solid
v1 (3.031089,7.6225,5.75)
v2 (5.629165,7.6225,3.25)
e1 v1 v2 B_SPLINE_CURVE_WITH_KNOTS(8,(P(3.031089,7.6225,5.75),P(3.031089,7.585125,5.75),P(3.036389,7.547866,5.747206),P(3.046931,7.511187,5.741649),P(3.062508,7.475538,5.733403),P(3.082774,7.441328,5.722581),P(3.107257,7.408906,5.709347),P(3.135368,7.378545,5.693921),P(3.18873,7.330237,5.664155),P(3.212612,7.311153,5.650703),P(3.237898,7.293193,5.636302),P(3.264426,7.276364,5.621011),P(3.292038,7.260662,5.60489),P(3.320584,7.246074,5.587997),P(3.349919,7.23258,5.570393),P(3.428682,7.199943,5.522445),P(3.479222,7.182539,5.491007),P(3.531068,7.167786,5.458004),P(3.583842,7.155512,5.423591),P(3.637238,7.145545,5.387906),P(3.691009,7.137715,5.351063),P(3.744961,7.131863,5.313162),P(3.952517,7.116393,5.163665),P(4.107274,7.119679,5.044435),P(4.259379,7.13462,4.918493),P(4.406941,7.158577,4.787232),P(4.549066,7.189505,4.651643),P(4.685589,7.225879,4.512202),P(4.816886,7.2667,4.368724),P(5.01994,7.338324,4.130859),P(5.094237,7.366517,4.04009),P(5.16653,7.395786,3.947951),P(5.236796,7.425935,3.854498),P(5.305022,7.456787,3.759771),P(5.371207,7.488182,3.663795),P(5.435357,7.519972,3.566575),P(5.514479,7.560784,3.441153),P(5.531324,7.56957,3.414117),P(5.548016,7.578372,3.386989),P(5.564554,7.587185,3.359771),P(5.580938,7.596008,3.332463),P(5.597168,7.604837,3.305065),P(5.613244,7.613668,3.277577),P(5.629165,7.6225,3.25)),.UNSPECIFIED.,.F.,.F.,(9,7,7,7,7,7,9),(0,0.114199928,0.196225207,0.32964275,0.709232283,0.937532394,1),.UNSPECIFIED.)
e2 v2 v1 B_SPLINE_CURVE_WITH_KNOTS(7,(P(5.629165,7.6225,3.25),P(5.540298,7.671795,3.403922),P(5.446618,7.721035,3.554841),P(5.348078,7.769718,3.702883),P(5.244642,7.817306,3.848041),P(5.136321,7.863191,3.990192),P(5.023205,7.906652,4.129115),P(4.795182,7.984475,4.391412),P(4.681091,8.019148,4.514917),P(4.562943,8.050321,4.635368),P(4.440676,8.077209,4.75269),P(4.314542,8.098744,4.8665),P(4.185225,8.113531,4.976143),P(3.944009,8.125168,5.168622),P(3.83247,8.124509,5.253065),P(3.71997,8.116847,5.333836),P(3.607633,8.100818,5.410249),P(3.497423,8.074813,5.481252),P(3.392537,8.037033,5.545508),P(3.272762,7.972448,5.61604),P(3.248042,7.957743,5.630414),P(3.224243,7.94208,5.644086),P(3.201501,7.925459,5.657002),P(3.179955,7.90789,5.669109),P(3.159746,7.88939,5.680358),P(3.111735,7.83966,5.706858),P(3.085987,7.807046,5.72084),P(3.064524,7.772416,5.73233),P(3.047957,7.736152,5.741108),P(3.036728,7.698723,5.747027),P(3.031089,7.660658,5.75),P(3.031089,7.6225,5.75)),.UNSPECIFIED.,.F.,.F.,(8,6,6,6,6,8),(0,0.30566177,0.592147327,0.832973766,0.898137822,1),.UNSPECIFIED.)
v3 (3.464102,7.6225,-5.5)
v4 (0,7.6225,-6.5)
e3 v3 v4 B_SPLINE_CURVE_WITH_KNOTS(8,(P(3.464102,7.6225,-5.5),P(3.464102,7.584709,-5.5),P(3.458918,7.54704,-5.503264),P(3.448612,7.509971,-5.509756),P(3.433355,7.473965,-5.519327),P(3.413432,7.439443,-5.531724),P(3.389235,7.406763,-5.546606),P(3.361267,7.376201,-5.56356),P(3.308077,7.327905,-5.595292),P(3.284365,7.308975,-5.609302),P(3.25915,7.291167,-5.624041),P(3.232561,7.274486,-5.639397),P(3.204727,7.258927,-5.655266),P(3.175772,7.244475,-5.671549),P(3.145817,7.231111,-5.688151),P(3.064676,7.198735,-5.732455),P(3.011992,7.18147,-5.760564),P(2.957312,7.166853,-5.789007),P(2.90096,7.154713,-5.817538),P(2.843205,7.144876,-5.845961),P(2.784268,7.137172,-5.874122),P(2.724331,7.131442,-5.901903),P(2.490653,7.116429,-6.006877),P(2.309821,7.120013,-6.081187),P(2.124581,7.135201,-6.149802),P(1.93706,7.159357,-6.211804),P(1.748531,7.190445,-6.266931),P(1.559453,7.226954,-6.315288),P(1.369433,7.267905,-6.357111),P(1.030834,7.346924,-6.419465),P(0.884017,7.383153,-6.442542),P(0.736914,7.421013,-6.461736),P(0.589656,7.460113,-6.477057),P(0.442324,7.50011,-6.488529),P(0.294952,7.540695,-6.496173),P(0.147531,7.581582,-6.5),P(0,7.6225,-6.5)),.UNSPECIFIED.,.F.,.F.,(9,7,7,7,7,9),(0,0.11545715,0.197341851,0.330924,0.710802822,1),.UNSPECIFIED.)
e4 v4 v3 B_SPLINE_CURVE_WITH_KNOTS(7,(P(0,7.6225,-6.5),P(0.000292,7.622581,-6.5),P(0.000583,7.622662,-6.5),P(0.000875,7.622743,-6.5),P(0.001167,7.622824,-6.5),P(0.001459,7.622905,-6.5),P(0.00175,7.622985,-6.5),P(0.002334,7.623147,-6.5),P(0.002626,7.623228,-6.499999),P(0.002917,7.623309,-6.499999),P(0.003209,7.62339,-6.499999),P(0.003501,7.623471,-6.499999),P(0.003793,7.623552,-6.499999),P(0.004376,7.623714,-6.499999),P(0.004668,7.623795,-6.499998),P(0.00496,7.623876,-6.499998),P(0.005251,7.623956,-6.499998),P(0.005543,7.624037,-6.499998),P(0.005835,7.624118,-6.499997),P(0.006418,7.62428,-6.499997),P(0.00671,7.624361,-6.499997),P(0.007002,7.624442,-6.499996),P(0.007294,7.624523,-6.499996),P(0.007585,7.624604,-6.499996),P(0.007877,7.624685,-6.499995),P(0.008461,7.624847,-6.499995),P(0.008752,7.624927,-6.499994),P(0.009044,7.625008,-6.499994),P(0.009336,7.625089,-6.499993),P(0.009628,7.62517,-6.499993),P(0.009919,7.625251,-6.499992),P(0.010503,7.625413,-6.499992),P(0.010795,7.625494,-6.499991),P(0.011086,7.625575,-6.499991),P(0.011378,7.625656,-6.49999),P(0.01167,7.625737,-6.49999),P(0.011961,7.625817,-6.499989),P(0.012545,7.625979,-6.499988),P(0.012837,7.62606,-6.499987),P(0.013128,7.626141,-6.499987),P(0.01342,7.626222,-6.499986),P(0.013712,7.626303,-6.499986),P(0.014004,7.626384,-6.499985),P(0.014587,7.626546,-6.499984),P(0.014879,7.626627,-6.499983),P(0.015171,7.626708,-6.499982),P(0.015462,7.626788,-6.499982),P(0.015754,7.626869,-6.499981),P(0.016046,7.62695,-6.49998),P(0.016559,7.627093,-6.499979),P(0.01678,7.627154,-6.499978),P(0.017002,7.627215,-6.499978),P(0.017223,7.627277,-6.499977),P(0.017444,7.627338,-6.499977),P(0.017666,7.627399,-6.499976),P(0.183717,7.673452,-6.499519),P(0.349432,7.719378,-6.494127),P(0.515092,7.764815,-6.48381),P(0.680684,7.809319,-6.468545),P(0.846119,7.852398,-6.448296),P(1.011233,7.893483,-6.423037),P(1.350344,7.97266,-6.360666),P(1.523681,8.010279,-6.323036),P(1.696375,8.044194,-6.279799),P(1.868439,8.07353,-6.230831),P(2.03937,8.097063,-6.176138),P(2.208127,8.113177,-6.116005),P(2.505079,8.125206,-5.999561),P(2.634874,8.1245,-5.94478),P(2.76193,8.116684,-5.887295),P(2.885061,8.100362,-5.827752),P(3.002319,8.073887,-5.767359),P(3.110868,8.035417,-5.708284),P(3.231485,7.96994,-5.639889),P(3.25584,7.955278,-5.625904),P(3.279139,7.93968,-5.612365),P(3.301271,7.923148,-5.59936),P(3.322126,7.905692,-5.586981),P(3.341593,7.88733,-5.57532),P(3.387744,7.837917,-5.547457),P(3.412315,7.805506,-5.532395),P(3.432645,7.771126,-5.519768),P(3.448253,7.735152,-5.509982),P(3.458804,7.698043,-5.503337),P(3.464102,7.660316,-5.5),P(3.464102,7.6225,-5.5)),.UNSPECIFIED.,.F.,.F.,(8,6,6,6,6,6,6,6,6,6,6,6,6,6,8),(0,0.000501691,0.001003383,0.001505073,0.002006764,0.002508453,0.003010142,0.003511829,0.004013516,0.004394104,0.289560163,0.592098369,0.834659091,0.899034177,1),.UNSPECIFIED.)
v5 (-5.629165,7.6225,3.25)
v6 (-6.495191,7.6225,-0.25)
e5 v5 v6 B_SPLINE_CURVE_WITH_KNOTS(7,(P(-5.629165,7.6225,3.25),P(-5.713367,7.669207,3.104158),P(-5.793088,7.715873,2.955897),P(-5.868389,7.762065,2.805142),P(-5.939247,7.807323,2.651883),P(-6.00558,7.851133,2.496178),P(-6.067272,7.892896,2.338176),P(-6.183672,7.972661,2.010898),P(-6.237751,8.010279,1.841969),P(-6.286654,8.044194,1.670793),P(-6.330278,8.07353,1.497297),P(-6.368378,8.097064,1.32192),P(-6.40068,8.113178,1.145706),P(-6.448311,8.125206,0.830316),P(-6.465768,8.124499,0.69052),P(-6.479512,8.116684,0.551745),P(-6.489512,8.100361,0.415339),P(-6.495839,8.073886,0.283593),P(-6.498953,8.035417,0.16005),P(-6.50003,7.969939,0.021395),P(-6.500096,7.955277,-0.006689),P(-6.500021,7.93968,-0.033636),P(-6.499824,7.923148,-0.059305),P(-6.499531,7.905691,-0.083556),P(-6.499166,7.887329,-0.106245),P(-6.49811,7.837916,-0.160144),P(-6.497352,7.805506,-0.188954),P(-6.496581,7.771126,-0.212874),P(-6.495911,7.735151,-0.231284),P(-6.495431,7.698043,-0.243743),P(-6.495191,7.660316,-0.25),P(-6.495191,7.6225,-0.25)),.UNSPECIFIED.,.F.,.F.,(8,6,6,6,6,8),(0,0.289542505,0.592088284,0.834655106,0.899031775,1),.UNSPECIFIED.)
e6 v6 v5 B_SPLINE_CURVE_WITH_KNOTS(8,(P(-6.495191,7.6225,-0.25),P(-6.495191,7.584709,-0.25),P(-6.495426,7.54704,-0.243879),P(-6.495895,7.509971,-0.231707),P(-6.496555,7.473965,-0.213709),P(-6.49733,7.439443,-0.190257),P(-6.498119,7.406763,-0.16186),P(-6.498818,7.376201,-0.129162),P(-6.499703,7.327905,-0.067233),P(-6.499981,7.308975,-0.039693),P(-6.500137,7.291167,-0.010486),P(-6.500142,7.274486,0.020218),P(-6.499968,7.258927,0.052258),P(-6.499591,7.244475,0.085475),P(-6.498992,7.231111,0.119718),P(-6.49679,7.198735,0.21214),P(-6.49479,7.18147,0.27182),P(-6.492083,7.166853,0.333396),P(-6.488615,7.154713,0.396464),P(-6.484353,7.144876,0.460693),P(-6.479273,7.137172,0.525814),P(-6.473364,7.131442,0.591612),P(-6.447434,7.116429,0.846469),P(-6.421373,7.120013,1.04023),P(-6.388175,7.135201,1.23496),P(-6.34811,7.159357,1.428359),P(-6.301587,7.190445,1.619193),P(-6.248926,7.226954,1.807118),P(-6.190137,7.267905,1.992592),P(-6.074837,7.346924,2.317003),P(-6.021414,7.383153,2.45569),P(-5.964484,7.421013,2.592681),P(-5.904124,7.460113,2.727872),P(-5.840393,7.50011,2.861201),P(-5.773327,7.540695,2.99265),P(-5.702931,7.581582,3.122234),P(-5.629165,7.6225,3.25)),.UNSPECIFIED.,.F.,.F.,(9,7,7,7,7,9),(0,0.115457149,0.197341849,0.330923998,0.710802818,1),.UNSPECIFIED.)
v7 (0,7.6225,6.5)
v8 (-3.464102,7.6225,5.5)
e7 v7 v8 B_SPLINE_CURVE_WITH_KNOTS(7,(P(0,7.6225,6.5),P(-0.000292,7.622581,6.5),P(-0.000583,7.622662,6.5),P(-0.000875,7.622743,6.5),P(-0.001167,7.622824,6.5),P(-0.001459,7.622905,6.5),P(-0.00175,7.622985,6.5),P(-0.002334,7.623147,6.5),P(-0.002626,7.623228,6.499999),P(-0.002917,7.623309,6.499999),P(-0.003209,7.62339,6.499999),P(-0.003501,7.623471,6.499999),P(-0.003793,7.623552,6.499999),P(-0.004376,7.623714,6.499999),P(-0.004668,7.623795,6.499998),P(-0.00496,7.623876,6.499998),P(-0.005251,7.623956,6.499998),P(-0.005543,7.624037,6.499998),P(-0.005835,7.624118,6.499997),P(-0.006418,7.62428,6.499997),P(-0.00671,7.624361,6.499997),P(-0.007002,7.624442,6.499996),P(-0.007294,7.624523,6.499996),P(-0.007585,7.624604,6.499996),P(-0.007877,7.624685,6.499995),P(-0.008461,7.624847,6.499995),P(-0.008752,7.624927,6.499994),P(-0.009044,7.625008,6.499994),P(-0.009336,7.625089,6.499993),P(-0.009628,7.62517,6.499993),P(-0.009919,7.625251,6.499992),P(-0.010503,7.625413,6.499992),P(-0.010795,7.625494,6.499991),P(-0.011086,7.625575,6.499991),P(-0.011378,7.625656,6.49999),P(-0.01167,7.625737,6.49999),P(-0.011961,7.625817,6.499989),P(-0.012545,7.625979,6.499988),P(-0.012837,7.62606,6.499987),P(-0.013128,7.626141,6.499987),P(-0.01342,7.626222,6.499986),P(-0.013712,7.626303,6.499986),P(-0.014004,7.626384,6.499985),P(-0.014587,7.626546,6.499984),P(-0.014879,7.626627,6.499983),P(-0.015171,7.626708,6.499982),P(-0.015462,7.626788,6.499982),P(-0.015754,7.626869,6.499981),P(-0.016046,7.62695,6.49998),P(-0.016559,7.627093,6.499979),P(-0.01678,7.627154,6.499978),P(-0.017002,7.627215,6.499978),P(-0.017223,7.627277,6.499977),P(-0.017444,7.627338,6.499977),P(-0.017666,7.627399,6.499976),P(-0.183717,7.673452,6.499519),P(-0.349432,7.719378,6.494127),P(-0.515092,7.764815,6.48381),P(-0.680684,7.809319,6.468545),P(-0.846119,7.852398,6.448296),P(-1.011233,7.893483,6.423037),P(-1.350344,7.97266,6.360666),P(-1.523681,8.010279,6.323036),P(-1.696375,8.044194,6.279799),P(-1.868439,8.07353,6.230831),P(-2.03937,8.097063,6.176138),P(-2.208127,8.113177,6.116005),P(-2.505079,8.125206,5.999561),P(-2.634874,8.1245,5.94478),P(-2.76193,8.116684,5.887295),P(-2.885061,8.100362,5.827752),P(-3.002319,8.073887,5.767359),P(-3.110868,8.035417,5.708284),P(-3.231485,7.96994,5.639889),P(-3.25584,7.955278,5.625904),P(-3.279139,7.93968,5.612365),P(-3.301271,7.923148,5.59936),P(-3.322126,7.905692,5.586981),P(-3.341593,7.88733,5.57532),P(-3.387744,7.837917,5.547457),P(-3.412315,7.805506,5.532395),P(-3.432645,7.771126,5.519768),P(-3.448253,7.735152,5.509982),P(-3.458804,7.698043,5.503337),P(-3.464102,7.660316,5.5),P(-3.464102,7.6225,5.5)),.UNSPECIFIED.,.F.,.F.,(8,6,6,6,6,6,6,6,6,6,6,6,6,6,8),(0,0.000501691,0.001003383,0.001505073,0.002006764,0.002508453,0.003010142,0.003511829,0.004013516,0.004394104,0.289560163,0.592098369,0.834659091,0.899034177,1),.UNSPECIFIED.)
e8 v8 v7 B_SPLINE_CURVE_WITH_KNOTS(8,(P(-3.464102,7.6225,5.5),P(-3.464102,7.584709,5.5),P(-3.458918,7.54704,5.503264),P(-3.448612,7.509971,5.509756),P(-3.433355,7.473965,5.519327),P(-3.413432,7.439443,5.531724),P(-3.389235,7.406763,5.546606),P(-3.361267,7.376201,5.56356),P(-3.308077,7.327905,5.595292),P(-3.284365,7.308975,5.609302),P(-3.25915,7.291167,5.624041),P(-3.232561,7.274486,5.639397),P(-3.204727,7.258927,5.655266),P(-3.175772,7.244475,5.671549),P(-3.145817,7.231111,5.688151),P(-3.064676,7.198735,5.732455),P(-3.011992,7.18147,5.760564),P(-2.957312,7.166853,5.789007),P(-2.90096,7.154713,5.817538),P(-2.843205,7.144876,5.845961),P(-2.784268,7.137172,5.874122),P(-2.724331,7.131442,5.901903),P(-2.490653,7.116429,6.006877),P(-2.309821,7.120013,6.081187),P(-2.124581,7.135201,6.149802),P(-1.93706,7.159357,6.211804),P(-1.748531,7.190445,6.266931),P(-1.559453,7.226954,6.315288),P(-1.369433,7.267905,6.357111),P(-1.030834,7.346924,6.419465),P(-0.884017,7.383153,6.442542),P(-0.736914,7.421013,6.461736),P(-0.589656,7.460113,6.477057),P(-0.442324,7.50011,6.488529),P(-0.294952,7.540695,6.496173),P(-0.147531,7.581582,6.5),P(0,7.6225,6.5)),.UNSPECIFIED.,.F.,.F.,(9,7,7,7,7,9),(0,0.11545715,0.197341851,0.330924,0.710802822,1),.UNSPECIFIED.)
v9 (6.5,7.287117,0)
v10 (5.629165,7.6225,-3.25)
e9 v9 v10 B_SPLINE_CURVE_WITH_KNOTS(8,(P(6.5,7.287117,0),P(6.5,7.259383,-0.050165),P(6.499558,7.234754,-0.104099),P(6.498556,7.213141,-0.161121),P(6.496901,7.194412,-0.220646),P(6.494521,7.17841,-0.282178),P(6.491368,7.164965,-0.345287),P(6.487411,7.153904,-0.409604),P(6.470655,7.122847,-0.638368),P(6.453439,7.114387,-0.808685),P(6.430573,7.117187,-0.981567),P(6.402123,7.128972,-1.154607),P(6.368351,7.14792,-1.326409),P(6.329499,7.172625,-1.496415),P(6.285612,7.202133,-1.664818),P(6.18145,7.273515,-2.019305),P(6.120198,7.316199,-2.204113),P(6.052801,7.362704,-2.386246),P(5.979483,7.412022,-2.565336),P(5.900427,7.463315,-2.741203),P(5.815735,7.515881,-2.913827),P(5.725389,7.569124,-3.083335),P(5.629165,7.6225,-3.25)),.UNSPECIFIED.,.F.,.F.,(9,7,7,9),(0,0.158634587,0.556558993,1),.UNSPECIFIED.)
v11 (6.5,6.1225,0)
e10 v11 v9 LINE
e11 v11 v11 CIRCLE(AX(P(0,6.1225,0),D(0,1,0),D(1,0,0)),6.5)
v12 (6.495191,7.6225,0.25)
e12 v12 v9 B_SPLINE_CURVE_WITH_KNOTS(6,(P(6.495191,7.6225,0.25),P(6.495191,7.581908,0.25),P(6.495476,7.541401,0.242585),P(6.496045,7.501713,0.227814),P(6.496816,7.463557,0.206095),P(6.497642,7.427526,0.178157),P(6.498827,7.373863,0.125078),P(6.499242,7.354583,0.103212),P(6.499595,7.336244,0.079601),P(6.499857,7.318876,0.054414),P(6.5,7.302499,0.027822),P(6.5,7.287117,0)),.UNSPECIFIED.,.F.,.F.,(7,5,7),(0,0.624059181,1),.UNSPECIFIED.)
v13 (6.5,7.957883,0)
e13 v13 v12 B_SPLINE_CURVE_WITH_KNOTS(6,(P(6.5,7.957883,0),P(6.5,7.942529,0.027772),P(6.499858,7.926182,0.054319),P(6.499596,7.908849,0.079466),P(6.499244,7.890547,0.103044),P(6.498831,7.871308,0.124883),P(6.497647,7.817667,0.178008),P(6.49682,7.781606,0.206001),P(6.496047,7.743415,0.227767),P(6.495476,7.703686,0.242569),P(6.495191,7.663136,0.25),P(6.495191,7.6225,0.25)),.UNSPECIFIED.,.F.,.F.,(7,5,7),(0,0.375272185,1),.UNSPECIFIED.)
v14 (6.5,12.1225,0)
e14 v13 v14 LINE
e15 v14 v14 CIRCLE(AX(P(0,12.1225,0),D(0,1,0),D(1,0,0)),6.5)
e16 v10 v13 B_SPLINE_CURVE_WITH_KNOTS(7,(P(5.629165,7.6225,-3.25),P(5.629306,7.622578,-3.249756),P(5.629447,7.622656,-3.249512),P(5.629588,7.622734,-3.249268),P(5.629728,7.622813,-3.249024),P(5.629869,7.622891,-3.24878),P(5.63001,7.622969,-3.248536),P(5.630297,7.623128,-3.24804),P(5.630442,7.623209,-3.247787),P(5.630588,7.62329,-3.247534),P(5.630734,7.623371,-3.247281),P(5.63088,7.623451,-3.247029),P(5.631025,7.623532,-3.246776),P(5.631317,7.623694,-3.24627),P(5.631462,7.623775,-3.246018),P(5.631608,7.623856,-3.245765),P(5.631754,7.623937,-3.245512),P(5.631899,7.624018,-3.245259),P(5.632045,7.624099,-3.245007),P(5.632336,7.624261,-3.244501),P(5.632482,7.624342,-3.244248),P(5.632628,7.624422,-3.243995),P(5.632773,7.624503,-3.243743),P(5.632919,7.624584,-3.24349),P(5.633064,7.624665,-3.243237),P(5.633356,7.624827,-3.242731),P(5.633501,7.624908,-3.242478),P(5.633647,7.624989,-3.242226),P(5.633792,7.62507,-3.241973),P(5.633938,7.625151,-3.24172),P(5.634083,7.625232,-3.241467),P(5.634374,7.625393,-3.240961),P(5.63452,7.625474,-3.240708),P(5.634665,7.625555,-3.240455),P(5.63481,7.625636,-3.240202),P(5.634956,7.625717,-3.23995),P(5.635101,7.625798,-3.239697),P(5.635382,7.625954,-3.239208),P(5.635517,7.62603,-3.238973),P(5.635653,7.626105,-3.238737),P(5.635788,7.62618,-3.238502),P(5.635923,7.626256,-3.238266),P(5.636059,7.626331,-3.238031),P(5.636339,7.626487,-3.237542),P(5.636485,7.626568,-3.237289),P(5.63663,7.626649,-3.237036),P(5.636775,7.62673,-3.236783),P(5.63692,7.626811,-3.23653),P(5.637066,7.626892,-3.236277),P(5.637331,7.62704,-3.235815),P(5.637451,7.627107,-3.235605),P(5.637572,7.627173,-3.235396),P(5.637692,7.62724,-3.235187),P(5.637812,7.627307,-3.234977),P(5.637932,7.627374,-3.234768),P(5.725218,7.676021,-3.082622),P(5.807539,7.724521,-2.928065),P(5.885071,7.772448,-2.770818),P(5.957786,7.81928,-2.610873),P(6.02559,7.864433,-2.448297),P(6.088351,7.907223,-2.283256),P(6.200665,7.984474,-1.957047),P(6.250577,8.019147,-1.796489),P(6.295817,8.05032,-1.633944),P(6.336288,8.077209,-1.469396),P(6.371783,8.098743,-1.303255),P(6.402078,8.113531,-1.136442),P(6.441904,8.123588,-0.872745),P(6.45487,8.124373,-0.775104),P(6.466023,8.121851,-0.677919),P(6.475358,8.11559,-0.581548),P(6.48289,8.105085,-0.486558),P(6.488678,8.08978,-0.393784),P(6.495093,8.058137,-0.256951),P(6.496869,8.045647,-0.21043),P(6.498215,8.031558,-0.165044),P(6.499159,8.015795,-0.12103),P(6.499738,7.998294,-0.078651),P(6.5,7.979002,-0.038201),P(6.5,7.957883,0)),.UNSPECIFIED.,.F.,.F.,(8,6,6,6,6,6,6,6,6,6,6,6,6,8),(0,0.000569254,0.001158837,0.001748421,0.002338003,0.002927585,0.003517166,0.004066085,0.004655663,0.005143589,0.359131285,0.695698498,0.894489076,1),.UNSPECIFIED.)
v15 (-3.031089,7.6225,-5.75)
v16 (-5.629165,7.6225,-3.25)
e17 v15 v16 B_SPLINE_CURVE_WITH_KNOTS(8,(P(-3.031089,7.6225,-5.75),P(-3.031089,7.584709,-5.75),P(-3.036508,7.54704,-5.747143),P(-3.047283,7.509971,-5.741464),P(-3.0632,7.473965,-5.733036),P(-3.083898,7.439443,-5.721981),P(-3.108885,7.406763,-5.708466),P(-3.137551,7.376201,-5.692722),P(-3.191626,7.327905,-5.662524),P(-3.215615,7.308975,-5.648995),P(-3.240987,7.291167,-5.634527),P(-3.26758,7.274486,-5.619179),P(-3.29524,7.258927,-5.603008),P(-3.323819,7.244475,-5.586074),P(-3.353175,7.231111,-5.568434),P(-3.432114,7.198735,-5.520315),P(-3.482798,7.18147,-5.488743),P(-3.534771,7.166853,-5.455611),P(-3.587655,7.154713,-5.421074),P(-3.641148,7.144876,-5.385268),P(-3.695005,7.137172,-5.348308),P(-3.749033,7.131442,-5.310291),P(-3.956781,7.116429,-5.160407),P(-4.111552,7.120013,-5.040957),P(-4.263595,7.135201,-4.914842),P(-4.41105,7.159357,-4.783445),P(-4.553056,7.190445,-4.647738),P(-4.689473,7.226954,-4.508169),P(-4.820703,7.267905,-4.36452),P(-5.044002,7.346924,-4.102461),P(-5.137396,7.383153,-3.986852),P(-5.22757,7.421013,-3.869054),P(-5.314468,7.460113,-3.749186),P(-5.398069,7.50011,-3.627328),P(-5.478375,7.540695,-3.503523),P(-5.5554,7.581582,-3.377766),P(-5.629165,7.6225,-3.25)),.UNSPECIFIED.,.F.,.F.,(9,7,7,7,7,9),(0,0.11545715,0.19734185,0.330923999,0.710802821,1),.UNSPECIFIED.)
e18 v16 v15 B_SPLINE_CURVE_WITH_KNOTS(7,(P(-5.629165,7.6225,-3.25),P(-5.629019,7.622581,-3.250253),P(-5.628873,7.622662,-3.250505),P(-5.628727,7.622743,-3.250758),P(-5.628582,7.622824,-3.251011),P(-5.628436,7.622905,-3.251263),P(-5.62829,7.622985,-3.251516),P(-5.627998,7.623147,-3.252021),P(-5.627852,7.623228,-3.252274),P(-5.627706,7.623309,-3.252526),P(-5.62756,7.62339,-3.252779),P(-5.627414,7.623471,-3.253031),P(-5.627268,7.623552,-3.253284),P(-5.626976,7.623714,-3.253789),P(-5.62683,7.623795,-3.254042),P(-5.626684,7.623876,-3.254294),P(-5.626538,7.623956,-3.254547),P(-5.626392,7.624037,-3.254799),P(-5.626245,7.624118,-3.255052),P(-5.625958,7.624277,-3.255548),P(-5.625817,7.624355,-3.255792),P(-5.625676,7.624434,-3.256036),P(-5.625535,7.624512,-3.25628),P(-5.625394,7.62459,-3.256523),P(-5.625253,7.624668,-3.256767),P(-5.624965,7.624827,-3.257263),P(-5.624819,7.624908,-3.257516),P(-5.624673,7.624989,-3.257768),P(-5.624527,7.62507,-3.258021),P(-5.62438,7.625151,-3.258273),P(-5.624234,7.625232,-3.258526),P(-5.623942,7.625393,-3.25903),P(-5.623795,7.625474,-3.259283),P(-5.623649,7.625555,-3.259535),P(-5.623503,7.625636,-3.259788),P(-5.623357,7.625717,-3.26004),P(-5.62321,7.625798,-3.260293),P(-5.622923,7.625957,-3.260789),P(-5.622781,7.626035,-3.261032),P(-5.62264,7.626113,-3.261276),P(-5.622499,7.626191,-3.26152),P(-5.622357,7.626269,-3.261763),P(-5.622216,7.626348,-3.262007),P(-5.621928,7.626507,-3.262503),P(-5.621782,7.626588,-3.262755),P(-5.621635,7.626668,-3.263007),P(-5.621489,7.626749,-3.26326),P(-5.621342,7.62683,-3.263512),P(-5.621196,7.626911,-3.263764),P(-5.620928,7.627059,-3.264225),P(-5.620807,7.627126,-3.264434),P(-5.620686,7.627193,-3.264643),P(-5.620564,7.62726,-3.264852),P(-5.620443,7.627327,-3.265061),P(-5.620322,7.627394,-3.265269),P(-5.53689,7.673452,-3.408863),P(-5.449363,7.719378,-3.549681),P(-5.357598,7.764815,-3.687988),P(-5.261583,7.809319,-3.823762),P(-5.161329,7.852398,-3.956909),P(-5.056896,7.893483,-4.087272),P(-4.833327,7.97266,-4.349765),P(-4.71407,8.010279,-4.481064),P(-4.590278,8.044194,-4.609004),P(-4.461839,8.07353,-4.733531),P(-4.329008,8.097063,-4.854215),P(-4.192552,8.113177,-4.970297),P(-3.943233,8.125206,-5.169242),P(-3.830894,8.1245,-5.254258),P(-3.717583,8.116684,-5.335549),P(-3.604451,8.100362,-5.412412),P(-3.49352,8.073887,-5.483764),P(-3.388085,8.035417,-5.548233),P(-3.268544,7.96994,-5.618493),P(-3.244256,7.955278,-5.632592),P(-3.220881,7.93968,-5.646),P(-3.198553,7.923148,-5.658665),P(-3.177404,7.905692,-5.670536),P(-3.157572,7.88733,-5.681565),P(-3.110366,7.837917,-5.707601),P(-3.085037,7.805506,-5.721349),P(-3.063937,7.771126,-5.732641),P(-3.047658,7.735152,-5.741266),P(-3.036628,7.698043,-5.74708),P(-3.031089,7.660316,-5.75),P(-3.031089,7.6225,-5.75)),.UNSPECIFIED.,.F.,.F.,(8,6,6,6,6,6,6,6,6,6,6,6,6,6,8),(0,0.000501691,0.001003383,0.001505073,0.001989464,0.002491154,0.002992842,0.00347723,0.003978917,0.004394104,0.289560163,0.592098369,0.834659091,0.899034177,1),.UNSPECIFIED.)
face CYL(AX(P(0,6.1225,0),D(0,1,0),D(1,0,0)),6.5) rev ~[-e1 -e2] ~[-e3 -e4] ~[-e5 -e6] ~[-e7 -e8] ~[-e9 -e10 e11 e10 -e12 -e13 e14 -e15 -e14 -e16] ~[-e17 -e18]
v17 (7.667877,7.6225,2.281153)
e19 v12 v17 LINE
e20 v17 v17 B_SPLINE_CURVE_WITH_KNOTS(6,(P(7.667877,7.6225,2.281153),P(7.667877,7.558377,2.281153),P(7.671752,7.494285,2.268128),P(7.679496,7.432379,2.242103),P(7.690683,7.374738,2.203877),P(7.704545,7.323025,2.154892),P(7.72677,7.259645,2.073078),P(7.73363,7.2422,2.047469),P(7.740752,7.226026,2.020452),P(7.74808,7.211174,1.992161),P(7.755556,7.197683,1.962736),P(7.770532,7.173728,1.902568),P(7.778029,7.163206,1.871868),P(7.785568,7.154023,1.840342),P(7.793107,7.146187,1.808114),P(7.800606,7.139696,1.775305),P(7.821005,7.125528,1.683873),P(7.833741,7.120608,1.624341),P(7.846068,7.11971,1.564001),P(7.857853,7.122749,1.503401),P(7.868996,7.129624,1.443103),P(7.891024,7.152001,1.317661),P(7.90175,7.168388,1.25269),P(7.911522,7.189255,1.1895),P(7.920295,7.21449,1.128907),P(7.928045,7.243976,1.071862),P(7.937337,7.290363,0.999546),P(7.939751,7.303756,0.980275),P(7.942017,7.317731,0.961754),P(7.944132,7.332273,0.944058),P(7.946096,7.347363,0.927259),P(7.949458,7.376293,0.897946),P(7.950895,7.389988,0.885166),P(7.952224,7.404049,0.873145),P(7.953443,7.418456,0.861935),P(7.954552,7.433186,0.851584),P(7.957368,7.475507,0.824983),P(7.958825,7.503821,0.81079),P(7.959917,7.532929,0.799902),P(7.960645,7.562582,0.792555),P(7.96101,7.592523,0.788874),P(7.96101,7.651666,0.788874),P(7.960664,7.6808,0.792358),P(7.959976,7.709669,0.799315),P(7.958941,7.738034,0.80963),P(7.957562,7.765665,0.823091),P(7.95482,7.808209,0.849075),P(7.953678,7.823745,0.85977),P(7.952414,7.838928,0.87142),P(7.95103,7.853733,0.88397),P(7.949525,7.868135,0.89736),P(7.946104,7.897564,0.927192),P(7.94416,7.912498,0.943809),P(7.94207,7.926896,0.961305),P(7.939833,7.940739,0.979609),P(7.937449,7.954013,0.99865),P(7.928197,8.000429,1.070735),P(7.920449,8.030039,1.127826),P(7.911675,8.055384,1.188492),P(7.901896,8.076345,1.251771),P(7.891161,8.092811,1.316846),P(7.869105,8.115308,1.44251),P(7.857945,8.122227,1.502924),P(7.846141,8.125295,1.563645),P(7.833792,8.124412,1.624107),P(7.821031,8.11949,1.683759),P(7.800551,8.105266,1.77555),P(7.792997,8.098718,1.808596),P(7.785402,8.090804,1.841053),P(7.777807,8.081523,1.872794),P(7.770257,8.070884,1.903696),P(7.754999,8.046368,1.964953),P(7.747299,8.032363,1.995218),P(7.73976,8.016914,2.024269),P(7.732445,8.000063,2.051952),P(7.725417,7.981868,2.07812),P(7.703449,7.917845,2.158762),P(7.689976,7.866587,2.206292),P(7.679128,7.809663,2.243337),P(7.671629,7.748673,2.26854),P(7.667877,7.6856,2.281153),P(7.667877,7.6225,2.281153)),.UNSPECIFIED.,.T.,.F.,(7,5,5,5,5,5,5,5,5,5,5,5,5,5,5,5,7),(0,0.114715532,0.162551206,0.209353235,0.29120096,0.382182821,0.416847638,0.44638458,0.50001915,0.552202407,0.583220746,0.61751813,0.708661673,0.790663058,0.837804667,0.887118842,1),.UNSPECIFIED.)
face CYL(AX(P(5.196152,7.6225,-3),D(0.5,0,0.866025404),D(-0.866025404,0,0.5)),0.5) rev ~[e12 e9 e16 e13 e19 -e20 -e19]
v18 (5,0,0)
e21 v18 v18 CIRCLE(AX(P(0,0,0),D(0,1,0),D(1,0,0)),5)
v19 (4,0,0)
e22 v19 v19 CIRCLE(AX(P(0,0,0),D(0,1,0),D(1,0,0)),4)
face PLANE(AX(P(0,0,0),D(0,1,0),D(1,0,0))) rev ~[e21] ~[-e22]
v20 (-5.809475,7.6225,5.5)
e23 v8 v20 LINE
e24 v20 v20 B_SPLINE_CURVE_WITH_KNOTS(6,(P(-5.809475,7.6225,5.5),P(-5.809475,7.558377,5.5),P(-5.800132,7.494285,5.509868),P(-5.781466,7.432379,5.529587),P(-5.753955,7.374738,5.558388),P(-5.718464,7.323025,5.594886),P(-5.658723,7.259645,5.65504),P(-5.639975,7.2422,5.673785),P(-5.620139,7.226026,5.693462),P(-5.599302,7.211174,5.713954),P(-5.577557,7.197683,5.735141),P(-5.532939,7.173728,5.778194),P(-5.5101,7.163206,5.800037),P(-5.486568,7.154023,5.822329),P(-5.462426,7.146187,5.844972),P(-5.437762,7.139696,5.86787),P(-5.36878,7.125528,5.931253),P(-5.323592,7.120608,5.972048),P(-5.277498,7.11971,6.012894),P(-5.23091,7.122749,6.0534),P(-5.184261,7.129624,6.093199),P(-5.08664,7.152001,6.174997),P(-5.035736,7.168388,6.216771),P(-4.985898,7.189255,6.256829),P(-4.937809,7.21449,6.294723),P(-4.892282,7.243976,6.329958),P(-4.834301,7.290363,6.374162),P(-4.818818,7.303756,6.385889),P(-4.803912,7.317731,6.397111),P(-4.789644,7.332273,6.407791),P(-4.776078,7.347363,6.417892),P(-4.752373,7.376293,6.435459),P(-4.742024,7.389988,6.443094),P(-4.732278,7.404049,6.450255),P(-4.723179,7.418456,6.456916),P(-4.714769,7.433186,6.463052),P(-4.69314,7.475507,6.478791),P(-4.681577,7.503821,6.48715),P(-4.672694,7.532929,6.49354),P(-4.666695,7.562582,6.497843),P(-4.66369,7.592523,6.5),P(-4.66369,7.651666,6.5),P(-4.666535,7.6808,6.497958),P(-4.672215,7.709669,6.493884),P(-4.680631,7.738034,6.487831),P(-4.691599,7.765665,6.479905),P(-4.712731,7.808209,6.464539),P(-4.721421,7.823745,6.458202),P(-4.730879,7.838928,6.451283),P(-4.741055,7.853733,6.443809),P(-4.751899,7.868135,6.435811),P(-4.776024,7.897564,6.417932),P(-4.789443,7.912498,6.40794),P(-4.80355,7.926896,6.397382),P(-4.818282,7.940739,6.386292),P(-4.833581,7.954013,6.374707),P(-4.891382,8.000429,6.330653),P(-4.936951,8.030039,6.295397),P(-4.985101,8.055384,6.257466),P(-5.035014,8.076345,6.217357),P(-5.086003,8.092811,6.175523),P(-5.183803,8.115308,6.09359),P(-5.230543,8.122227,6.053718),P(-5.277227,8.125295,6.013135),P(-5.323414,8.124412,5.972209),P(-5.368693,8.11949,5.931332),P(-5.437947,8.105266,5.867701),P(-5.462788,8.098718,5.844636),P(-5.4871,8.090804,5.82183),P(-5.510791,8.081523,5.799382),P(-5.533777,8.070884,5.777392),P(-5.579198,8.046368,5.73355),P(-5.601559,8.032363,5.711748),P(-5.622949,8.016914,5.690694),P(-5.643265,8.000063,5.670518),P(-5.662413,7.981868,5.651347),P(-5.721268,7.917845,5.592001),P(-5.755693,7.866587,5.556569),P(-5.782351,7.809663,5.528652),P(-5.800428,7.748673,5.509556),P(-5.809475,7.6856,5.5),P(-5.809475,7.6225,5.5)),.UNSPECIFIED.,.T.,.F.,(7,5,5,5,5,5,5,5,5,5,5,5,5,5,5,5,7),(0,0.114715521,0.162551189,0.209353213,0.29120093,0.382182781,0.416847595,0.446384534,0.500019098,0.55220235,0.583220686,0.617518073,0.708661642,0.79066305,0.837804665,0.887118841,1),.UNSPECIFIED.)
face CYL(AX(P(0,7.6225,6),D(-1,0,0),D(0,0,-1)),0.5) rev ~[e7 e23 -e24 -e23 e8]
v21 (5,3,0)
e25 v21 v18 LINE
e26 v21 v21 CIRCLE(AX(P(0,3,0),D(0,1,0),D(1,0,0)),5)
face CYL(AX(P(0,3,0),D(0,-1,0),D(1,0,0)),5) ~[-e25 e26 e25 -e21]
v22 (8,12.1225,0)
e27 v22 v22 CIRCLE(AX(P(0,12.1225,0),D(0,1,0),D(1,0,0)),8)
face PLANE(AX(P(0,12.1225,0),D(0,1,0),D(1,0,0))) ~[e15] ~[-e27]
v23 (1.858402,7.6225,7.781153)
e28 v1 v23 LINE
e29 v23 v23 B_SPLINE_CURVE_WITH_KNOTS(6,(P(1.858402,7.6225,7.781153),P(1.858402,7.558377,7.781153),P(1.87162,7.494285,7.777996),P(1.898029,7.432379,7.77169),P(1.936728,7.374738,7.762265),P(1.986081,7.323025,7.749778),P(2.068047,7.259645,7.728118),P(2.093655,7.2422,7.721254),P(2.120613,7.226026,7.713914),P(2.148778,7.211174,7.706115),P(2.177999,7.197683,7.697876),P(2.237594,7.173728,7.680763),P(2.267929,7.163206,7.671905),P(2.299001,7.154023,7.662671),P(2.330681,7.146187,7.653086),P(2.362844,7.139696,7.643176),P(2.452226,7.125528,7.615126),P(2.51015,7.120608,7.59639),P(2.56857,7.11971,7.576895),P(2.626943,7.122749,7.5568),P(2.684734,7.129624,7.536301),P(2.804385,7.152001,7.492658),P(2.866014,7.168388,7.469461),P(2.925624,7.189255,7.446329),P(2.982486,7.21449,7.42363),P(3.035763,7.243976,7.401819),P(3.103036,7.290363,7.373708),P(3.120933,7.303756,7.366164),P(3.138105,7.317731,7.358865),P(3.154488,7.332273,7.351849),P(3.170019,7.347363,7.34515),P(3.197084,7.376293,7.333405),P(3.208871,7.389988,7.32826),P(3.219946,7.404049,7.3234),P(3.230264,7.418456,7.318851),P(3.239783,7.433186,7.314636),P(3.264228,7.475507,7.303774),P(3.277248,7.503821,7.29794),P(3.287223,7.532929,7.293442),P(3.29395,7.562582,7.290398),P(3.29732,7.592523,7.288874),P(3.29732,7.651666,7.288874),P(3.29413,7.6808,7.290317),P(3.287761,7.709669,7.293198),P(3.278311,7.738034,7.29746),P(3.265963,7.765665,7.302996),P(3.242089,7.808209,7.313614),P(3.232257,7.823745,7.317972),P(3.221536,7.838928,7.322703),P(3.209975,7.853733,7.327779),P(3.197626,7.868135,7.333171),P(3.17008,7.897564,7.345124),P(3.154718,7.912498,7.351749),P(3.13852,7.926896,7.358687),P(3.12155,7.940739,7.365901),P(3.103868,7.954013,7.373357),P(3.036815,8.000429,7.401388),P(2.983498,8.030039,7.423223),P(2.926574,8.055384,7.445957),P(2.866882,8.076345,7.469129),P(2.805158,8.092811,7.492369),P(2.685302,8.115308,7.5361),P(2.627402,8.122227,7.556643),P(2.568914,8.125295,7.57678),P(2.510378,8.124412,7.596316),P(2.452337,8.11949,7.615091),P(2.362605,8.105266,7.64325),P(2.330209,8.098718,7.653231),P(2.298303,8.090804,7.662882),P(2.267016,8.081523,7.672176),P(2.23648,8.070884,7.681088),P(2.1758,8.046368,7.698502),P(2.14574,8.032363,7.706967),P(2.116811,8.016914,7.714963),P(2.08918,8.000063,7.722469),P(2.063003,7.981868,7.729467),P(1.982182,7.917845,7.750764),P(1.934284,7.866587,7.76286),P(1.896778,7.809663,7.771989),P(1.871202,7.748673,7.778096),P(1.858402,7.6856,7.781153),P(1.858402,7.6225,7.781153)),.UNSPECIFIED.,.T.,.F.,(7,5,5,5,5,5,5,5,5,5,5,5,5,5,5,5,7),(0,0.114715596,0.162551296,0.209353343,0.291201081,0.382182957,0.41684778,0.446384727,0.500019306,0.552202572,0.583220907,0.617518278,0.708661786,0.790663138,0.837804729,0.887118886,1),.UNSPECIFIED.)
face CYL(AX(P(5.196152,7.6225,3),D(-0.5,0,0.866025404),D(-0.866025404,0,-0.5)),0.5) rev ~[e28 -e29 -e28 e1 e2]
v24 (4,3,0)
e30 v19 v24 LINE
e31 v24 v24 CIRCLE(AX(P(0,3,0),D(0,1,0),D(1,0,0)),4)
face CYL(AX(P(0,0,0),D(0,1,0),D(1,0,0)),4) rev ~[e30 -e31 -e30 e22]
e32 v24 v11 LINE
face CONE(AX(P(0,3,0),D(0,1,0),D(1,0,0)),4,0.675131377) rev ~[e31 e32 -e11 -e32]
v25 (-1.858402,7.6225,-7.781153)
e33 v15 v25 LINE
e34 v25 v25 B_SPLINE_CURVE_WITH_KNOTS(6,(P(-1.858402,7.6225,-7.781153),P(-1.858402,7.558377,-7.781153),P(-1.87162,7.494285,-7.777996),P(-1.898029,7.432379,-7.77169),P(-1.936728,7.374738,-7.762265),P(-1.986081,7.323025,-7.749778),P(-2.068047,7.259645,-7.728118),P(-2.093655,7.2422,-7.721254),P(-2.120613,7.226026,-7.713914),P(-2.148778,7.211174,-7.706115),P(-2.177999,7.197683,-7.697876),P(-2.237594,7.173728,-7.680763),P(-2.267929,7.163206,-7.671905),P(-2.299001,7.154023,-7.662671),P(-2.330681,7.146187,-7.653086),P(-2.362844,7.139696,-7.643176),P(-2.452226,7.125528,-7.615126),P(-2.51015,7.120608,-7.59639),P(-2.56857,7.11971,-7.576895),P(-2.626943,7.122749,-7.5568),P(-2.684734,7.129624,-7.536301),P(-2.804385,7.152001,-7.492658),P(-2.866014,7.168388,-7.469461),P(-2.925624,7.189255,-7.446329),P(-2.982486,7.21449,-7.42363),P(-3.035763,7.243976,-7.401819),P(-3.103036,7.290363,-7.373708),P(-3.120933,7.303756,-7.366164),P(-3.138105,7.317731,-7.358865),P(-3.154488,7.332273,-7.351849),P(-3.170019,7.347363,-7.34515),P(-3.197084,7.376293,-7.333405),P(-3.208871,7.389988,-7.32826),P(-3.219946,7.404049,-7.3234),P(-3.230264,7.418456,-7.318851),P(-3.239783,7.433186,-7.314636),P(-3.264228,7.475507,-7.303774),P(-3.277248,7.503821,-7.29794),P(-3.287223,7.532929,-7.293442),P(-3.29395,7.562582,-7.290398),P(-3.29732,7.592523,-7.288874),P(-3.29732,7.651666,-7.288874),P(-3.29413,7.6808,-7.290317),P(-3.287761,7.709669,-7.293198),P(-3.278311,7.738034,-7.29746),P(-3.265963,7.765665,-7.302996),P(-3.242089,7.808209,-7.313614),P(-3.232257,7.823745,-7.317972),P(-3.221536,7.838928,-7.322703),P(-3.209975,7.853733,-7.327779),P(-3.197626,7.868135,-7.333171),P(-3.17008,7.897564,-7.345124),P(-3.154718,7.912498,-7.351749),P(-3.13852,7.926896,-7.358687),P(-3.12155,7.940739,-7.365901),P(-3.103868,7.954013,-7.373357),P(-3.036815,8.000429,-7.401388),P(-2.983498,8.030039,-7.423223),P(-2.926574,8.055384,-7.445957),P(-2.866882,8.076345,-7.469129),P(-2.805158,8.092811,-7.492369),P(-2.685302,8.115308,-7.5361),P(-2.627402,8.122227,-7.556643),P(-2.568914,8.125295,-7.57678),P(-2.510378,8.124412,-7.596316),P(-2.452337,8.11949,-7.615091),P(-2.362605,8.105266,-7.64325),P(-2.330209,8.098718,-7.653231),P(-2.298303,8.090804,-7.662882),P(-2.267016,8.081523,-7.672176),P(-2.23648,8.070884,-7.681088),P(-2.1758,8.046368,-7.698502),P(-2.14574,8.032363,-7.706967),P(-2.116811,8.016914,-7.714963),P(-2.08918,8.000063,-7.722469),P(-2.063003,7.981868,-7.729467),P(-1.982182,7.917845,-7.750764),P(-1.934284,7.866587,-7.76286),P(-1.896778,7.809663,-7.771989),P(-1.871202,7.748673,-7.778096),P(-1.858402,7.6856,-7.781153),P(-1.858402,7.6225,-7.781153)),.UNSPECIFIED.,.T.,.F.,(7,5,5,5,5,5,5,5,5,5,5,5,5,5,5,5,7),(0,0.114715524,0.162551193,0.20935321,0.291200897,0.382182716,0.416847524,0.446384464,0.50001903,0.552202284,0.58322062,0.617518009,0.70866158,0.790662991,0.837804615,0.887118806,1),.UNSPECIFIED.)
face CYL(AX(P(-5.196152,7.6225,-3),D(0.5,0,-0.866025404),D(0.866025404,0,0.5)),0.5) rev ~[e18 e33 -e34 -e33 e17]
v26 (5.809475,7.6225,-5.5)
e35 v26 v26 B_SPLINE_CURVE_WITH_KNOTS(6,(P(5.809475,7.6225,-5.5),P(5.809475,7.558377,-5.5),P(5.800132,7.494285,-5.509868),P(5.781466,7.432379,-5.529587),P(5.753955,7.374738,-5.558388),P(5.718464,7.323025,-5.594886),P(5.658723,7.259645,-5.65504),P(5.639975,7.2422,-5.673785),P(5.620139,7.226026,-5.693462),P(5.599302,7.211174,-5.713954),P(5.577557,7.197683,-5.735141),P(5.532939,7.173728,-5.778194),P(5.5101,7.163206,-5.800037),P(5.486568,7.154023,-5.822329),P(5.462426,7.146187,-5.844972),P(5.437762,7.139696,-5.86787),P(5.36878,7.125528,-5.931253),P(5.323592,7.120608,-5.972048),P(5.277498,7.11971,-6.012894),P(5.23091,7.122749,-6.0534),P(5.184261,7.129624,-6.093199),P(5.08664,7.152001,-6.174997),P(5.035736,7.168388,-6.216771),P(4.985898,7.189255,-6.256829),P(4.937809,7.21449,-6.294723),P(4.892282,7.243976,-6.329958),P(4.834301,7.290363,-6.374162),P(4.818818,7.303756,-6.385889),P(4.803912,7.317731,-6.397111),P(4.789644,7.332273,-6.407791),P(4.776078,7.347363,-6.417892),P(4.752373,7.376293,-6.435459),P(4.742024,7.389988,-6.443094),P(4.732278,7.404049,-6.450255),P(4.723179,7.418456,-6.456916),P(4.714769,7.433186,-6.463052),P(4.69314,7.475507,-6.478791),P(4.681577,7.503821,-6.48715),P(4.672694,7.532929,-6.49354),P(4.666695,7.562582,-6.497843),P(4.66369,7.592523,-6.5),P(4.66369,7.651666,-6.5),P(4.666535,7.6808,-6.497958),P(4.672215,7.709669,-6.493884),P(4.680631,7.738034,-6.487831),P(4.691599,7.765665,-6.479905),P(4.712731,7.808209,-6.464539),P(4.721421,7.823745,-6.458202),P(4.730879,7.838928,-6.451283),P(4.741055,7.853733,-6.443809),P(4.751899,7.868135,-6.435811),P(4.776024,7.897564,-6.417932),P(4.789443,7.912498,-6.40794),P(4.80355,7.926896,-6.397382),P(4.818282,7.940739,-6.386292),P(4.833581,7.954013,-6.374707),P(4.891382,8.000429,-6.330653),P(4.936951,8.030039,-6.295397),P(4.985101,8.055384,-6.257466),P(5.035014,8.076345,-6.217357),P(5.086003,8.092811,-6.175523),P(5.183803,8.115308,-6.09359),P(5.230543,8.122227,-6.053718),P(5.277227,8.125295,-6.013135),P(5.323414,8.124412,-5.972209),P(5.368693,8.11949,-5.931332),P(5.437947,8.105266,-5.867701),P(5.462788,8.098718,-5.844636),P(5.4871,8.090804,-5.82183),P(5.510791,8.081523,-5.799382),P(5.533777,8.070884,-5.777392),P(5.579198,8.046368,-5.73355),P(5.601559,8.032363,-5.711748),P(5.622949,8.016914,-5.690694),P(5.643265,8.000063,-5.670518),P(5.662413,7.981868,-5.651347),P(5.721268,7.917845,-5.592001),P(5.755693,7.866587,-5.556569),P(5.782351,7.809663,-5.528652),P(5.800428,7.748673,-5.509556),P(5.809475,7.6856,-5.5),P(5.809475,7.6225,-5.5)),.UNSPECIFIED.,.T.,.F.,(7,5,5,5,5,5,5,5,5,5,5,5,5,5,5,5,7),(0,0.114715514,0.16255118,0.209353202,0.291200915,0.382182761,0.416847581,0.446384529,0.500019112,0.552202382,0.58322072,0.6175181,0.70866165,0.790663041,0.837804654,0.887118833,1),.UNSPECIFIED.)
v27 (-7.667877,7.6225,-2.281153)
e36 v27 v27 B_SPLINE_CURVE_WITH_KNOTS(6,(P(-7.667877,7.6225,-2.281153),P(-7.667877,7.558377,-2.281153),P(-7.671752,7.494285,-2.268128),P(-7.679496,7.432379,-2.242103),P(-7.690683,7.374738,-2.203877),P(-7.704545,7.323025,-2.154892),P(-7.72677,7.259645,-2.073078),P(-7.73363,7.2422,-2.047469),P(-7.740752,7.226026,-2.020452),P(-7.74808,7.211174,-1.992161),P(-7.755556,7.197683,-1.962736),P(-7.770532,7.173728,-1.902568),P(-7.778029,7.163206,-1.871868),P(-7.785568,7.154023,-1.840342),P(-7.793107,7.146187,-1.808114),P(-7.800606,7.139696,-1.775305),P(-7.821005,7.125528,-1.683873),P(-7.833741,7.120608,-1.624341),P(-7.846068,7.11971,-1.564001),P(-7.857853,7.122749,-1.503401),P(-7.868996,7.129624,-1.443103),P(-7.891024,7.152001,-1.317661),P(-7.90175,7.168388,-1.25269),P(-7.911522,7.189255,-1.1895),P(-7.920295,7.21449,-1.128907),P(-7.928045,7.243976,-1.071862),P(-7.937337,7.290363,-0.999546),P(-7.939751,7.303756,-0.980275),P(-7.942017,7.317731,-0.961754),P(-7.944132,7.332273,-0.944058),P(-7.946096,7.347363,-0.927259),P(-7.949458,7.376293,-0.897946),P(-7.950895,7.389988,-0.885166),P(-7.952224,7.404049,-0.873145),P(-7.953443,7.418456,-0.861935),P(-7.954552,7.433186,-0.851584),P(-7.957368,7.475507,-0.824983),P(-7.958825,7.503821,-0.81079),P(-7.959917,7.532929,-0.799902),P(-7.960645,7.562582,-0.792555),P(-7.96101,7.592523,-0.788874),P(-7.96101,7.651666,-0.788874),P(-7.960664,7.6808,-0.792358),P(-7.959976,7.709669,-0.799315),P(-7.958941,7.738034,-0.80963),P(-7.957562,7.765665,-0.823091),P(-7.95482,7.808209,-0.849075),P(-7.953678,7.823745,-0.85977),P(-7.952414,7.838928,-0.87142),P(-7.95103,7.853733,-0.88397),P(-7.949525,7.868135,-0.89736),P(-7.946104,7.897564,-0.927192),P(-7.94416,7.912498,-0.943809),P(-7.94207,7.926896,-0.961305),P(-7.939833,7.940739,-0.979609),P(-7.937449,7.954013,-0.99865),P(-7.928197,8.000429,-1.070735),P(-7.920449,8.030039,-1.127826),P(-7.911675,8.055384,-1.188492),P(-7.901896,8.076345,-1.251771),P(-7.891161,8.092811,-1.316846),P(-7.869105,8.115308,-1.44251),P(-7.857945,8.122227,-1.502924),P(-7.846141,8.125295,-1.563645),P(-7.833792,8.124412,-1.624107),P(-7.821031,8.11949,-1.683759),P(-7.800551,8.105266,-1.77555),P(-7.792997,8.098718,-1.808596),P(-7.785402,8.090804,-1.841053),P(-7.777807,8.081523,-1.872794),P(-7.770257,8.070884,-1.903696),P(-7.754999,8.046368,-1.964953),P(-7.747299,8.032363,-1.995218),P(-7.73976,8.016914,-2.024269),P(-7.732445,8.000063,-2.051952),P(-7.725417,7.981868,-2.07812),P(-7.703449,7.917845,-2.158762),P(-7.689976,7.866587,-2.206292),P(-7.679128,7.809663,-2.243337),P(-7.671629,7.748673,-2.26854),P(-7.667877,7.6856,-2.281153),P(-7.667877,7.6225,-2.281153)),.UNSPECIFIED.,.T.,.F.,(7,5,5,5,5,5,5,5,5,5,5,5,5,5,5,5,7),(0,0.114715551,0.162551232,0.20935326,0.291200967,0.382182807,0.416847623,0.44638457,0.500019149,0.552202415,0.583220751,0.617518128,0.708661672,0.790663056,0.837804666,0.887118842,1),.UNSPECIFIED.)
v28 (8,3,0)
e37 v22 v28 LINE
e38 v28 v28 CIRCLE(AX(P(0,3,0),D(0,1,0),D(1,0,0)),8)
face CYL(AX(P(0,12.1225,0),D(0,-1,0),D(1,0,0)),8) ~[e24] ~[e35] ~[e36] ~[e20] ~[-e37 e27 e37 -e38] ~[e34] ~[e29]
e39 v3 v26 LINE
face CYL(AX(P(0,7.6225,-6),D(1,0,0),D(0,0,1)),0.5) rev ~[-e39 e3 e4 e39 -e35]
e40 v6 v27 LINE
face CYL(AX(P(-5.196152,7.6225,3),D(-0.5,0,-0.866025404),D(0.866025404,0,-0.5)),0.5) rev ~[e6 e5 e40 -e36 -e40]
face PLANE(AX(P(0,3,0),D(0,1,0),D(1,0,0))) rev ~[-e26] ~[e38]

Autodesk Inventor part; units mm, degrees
ref_plane "YZ Plane" through (0, 0, 0) normal (1, 0, 0) x (0, 1, 0)
ref_plane "XZ Plane" through (0, 0, 0) normal (0, 1, 0) x (-1, 0, 0)
sketch "Sketch1" plane through (0, 0, 0) normal (0, 0, 1) x (1, 0, 0)
  line L0 (4, 0) -> (4, 3)
  line L1 (4, 3) -> (6.5, 6.1225)
  line L2 (6.5, 6.1225) -> (6.5, 12.1225)
  line L3 (6.5, 12.1225) -> (8, 12.1225)
  line L4 (8, 12.1225) -> (8, 3)
  line L5 (8, 3) -> (5, 3)
  line L6 (5, 3) -> (5, 0)
  line L7 (5, 0) -> (4, 0)
  line L8 (0, -2.6844) -> (0, 16.1063) projected
  point P0 (0, 0)
  dimension "d0" = 6.5
  dimension "d2" = 1.5
  dimension "d7" = 3
  dimension "d31" = 4
  dimension "d32" = 1
  dimension "d33" = 0
  dimension "d35" = 3
  dimension "d36" = 6
  dimension "d37" = 4
revolve "Revolution1" add sketch "Sketch1" angle 360 about axis through (0, -10, 0) along (0, 1, 0)
sketch "Sketch2" plane through (0, 0, 0) normal (1, 0, 0) x (0, 1, 0)
  line L0 (6.1225, 6.5) -> (12.1225, 6.5) projected
  point P0 (0, 0)
  point P1 (13.4219, 6.5)
ref_plane "Work Plane1" through (0, 13.4219, 6.5) normal (0, 0, -1) x (-1, 0, 0)
sketch "Sketch4" plane through (0, 0, 0) normal (1, 0, 0) x (0, 1, 0)
  line L0 (6.1225, 6.5) -> (6.1225, -6.5) projected
  line L1 (16.1063, 6.5) -> (-2.6844, 6.5) projected
  point P0 (0, 0)
  point P1 (7.6225, 6)
  dimension "d19" = 1.5
  dimension "d20" = 0.5
hole "Hole2" at (0, 7.6225, 6) direction (-1, 0, 0) diameter 1 end through all
pattern_circular "Circular Pattern1" count 6 over 360 about axis through (0, -10, 0) along (0, 1, 0) of "Hole2"
properties part number "bottom injector" material "Brass, Soft Yellow, Welded"
